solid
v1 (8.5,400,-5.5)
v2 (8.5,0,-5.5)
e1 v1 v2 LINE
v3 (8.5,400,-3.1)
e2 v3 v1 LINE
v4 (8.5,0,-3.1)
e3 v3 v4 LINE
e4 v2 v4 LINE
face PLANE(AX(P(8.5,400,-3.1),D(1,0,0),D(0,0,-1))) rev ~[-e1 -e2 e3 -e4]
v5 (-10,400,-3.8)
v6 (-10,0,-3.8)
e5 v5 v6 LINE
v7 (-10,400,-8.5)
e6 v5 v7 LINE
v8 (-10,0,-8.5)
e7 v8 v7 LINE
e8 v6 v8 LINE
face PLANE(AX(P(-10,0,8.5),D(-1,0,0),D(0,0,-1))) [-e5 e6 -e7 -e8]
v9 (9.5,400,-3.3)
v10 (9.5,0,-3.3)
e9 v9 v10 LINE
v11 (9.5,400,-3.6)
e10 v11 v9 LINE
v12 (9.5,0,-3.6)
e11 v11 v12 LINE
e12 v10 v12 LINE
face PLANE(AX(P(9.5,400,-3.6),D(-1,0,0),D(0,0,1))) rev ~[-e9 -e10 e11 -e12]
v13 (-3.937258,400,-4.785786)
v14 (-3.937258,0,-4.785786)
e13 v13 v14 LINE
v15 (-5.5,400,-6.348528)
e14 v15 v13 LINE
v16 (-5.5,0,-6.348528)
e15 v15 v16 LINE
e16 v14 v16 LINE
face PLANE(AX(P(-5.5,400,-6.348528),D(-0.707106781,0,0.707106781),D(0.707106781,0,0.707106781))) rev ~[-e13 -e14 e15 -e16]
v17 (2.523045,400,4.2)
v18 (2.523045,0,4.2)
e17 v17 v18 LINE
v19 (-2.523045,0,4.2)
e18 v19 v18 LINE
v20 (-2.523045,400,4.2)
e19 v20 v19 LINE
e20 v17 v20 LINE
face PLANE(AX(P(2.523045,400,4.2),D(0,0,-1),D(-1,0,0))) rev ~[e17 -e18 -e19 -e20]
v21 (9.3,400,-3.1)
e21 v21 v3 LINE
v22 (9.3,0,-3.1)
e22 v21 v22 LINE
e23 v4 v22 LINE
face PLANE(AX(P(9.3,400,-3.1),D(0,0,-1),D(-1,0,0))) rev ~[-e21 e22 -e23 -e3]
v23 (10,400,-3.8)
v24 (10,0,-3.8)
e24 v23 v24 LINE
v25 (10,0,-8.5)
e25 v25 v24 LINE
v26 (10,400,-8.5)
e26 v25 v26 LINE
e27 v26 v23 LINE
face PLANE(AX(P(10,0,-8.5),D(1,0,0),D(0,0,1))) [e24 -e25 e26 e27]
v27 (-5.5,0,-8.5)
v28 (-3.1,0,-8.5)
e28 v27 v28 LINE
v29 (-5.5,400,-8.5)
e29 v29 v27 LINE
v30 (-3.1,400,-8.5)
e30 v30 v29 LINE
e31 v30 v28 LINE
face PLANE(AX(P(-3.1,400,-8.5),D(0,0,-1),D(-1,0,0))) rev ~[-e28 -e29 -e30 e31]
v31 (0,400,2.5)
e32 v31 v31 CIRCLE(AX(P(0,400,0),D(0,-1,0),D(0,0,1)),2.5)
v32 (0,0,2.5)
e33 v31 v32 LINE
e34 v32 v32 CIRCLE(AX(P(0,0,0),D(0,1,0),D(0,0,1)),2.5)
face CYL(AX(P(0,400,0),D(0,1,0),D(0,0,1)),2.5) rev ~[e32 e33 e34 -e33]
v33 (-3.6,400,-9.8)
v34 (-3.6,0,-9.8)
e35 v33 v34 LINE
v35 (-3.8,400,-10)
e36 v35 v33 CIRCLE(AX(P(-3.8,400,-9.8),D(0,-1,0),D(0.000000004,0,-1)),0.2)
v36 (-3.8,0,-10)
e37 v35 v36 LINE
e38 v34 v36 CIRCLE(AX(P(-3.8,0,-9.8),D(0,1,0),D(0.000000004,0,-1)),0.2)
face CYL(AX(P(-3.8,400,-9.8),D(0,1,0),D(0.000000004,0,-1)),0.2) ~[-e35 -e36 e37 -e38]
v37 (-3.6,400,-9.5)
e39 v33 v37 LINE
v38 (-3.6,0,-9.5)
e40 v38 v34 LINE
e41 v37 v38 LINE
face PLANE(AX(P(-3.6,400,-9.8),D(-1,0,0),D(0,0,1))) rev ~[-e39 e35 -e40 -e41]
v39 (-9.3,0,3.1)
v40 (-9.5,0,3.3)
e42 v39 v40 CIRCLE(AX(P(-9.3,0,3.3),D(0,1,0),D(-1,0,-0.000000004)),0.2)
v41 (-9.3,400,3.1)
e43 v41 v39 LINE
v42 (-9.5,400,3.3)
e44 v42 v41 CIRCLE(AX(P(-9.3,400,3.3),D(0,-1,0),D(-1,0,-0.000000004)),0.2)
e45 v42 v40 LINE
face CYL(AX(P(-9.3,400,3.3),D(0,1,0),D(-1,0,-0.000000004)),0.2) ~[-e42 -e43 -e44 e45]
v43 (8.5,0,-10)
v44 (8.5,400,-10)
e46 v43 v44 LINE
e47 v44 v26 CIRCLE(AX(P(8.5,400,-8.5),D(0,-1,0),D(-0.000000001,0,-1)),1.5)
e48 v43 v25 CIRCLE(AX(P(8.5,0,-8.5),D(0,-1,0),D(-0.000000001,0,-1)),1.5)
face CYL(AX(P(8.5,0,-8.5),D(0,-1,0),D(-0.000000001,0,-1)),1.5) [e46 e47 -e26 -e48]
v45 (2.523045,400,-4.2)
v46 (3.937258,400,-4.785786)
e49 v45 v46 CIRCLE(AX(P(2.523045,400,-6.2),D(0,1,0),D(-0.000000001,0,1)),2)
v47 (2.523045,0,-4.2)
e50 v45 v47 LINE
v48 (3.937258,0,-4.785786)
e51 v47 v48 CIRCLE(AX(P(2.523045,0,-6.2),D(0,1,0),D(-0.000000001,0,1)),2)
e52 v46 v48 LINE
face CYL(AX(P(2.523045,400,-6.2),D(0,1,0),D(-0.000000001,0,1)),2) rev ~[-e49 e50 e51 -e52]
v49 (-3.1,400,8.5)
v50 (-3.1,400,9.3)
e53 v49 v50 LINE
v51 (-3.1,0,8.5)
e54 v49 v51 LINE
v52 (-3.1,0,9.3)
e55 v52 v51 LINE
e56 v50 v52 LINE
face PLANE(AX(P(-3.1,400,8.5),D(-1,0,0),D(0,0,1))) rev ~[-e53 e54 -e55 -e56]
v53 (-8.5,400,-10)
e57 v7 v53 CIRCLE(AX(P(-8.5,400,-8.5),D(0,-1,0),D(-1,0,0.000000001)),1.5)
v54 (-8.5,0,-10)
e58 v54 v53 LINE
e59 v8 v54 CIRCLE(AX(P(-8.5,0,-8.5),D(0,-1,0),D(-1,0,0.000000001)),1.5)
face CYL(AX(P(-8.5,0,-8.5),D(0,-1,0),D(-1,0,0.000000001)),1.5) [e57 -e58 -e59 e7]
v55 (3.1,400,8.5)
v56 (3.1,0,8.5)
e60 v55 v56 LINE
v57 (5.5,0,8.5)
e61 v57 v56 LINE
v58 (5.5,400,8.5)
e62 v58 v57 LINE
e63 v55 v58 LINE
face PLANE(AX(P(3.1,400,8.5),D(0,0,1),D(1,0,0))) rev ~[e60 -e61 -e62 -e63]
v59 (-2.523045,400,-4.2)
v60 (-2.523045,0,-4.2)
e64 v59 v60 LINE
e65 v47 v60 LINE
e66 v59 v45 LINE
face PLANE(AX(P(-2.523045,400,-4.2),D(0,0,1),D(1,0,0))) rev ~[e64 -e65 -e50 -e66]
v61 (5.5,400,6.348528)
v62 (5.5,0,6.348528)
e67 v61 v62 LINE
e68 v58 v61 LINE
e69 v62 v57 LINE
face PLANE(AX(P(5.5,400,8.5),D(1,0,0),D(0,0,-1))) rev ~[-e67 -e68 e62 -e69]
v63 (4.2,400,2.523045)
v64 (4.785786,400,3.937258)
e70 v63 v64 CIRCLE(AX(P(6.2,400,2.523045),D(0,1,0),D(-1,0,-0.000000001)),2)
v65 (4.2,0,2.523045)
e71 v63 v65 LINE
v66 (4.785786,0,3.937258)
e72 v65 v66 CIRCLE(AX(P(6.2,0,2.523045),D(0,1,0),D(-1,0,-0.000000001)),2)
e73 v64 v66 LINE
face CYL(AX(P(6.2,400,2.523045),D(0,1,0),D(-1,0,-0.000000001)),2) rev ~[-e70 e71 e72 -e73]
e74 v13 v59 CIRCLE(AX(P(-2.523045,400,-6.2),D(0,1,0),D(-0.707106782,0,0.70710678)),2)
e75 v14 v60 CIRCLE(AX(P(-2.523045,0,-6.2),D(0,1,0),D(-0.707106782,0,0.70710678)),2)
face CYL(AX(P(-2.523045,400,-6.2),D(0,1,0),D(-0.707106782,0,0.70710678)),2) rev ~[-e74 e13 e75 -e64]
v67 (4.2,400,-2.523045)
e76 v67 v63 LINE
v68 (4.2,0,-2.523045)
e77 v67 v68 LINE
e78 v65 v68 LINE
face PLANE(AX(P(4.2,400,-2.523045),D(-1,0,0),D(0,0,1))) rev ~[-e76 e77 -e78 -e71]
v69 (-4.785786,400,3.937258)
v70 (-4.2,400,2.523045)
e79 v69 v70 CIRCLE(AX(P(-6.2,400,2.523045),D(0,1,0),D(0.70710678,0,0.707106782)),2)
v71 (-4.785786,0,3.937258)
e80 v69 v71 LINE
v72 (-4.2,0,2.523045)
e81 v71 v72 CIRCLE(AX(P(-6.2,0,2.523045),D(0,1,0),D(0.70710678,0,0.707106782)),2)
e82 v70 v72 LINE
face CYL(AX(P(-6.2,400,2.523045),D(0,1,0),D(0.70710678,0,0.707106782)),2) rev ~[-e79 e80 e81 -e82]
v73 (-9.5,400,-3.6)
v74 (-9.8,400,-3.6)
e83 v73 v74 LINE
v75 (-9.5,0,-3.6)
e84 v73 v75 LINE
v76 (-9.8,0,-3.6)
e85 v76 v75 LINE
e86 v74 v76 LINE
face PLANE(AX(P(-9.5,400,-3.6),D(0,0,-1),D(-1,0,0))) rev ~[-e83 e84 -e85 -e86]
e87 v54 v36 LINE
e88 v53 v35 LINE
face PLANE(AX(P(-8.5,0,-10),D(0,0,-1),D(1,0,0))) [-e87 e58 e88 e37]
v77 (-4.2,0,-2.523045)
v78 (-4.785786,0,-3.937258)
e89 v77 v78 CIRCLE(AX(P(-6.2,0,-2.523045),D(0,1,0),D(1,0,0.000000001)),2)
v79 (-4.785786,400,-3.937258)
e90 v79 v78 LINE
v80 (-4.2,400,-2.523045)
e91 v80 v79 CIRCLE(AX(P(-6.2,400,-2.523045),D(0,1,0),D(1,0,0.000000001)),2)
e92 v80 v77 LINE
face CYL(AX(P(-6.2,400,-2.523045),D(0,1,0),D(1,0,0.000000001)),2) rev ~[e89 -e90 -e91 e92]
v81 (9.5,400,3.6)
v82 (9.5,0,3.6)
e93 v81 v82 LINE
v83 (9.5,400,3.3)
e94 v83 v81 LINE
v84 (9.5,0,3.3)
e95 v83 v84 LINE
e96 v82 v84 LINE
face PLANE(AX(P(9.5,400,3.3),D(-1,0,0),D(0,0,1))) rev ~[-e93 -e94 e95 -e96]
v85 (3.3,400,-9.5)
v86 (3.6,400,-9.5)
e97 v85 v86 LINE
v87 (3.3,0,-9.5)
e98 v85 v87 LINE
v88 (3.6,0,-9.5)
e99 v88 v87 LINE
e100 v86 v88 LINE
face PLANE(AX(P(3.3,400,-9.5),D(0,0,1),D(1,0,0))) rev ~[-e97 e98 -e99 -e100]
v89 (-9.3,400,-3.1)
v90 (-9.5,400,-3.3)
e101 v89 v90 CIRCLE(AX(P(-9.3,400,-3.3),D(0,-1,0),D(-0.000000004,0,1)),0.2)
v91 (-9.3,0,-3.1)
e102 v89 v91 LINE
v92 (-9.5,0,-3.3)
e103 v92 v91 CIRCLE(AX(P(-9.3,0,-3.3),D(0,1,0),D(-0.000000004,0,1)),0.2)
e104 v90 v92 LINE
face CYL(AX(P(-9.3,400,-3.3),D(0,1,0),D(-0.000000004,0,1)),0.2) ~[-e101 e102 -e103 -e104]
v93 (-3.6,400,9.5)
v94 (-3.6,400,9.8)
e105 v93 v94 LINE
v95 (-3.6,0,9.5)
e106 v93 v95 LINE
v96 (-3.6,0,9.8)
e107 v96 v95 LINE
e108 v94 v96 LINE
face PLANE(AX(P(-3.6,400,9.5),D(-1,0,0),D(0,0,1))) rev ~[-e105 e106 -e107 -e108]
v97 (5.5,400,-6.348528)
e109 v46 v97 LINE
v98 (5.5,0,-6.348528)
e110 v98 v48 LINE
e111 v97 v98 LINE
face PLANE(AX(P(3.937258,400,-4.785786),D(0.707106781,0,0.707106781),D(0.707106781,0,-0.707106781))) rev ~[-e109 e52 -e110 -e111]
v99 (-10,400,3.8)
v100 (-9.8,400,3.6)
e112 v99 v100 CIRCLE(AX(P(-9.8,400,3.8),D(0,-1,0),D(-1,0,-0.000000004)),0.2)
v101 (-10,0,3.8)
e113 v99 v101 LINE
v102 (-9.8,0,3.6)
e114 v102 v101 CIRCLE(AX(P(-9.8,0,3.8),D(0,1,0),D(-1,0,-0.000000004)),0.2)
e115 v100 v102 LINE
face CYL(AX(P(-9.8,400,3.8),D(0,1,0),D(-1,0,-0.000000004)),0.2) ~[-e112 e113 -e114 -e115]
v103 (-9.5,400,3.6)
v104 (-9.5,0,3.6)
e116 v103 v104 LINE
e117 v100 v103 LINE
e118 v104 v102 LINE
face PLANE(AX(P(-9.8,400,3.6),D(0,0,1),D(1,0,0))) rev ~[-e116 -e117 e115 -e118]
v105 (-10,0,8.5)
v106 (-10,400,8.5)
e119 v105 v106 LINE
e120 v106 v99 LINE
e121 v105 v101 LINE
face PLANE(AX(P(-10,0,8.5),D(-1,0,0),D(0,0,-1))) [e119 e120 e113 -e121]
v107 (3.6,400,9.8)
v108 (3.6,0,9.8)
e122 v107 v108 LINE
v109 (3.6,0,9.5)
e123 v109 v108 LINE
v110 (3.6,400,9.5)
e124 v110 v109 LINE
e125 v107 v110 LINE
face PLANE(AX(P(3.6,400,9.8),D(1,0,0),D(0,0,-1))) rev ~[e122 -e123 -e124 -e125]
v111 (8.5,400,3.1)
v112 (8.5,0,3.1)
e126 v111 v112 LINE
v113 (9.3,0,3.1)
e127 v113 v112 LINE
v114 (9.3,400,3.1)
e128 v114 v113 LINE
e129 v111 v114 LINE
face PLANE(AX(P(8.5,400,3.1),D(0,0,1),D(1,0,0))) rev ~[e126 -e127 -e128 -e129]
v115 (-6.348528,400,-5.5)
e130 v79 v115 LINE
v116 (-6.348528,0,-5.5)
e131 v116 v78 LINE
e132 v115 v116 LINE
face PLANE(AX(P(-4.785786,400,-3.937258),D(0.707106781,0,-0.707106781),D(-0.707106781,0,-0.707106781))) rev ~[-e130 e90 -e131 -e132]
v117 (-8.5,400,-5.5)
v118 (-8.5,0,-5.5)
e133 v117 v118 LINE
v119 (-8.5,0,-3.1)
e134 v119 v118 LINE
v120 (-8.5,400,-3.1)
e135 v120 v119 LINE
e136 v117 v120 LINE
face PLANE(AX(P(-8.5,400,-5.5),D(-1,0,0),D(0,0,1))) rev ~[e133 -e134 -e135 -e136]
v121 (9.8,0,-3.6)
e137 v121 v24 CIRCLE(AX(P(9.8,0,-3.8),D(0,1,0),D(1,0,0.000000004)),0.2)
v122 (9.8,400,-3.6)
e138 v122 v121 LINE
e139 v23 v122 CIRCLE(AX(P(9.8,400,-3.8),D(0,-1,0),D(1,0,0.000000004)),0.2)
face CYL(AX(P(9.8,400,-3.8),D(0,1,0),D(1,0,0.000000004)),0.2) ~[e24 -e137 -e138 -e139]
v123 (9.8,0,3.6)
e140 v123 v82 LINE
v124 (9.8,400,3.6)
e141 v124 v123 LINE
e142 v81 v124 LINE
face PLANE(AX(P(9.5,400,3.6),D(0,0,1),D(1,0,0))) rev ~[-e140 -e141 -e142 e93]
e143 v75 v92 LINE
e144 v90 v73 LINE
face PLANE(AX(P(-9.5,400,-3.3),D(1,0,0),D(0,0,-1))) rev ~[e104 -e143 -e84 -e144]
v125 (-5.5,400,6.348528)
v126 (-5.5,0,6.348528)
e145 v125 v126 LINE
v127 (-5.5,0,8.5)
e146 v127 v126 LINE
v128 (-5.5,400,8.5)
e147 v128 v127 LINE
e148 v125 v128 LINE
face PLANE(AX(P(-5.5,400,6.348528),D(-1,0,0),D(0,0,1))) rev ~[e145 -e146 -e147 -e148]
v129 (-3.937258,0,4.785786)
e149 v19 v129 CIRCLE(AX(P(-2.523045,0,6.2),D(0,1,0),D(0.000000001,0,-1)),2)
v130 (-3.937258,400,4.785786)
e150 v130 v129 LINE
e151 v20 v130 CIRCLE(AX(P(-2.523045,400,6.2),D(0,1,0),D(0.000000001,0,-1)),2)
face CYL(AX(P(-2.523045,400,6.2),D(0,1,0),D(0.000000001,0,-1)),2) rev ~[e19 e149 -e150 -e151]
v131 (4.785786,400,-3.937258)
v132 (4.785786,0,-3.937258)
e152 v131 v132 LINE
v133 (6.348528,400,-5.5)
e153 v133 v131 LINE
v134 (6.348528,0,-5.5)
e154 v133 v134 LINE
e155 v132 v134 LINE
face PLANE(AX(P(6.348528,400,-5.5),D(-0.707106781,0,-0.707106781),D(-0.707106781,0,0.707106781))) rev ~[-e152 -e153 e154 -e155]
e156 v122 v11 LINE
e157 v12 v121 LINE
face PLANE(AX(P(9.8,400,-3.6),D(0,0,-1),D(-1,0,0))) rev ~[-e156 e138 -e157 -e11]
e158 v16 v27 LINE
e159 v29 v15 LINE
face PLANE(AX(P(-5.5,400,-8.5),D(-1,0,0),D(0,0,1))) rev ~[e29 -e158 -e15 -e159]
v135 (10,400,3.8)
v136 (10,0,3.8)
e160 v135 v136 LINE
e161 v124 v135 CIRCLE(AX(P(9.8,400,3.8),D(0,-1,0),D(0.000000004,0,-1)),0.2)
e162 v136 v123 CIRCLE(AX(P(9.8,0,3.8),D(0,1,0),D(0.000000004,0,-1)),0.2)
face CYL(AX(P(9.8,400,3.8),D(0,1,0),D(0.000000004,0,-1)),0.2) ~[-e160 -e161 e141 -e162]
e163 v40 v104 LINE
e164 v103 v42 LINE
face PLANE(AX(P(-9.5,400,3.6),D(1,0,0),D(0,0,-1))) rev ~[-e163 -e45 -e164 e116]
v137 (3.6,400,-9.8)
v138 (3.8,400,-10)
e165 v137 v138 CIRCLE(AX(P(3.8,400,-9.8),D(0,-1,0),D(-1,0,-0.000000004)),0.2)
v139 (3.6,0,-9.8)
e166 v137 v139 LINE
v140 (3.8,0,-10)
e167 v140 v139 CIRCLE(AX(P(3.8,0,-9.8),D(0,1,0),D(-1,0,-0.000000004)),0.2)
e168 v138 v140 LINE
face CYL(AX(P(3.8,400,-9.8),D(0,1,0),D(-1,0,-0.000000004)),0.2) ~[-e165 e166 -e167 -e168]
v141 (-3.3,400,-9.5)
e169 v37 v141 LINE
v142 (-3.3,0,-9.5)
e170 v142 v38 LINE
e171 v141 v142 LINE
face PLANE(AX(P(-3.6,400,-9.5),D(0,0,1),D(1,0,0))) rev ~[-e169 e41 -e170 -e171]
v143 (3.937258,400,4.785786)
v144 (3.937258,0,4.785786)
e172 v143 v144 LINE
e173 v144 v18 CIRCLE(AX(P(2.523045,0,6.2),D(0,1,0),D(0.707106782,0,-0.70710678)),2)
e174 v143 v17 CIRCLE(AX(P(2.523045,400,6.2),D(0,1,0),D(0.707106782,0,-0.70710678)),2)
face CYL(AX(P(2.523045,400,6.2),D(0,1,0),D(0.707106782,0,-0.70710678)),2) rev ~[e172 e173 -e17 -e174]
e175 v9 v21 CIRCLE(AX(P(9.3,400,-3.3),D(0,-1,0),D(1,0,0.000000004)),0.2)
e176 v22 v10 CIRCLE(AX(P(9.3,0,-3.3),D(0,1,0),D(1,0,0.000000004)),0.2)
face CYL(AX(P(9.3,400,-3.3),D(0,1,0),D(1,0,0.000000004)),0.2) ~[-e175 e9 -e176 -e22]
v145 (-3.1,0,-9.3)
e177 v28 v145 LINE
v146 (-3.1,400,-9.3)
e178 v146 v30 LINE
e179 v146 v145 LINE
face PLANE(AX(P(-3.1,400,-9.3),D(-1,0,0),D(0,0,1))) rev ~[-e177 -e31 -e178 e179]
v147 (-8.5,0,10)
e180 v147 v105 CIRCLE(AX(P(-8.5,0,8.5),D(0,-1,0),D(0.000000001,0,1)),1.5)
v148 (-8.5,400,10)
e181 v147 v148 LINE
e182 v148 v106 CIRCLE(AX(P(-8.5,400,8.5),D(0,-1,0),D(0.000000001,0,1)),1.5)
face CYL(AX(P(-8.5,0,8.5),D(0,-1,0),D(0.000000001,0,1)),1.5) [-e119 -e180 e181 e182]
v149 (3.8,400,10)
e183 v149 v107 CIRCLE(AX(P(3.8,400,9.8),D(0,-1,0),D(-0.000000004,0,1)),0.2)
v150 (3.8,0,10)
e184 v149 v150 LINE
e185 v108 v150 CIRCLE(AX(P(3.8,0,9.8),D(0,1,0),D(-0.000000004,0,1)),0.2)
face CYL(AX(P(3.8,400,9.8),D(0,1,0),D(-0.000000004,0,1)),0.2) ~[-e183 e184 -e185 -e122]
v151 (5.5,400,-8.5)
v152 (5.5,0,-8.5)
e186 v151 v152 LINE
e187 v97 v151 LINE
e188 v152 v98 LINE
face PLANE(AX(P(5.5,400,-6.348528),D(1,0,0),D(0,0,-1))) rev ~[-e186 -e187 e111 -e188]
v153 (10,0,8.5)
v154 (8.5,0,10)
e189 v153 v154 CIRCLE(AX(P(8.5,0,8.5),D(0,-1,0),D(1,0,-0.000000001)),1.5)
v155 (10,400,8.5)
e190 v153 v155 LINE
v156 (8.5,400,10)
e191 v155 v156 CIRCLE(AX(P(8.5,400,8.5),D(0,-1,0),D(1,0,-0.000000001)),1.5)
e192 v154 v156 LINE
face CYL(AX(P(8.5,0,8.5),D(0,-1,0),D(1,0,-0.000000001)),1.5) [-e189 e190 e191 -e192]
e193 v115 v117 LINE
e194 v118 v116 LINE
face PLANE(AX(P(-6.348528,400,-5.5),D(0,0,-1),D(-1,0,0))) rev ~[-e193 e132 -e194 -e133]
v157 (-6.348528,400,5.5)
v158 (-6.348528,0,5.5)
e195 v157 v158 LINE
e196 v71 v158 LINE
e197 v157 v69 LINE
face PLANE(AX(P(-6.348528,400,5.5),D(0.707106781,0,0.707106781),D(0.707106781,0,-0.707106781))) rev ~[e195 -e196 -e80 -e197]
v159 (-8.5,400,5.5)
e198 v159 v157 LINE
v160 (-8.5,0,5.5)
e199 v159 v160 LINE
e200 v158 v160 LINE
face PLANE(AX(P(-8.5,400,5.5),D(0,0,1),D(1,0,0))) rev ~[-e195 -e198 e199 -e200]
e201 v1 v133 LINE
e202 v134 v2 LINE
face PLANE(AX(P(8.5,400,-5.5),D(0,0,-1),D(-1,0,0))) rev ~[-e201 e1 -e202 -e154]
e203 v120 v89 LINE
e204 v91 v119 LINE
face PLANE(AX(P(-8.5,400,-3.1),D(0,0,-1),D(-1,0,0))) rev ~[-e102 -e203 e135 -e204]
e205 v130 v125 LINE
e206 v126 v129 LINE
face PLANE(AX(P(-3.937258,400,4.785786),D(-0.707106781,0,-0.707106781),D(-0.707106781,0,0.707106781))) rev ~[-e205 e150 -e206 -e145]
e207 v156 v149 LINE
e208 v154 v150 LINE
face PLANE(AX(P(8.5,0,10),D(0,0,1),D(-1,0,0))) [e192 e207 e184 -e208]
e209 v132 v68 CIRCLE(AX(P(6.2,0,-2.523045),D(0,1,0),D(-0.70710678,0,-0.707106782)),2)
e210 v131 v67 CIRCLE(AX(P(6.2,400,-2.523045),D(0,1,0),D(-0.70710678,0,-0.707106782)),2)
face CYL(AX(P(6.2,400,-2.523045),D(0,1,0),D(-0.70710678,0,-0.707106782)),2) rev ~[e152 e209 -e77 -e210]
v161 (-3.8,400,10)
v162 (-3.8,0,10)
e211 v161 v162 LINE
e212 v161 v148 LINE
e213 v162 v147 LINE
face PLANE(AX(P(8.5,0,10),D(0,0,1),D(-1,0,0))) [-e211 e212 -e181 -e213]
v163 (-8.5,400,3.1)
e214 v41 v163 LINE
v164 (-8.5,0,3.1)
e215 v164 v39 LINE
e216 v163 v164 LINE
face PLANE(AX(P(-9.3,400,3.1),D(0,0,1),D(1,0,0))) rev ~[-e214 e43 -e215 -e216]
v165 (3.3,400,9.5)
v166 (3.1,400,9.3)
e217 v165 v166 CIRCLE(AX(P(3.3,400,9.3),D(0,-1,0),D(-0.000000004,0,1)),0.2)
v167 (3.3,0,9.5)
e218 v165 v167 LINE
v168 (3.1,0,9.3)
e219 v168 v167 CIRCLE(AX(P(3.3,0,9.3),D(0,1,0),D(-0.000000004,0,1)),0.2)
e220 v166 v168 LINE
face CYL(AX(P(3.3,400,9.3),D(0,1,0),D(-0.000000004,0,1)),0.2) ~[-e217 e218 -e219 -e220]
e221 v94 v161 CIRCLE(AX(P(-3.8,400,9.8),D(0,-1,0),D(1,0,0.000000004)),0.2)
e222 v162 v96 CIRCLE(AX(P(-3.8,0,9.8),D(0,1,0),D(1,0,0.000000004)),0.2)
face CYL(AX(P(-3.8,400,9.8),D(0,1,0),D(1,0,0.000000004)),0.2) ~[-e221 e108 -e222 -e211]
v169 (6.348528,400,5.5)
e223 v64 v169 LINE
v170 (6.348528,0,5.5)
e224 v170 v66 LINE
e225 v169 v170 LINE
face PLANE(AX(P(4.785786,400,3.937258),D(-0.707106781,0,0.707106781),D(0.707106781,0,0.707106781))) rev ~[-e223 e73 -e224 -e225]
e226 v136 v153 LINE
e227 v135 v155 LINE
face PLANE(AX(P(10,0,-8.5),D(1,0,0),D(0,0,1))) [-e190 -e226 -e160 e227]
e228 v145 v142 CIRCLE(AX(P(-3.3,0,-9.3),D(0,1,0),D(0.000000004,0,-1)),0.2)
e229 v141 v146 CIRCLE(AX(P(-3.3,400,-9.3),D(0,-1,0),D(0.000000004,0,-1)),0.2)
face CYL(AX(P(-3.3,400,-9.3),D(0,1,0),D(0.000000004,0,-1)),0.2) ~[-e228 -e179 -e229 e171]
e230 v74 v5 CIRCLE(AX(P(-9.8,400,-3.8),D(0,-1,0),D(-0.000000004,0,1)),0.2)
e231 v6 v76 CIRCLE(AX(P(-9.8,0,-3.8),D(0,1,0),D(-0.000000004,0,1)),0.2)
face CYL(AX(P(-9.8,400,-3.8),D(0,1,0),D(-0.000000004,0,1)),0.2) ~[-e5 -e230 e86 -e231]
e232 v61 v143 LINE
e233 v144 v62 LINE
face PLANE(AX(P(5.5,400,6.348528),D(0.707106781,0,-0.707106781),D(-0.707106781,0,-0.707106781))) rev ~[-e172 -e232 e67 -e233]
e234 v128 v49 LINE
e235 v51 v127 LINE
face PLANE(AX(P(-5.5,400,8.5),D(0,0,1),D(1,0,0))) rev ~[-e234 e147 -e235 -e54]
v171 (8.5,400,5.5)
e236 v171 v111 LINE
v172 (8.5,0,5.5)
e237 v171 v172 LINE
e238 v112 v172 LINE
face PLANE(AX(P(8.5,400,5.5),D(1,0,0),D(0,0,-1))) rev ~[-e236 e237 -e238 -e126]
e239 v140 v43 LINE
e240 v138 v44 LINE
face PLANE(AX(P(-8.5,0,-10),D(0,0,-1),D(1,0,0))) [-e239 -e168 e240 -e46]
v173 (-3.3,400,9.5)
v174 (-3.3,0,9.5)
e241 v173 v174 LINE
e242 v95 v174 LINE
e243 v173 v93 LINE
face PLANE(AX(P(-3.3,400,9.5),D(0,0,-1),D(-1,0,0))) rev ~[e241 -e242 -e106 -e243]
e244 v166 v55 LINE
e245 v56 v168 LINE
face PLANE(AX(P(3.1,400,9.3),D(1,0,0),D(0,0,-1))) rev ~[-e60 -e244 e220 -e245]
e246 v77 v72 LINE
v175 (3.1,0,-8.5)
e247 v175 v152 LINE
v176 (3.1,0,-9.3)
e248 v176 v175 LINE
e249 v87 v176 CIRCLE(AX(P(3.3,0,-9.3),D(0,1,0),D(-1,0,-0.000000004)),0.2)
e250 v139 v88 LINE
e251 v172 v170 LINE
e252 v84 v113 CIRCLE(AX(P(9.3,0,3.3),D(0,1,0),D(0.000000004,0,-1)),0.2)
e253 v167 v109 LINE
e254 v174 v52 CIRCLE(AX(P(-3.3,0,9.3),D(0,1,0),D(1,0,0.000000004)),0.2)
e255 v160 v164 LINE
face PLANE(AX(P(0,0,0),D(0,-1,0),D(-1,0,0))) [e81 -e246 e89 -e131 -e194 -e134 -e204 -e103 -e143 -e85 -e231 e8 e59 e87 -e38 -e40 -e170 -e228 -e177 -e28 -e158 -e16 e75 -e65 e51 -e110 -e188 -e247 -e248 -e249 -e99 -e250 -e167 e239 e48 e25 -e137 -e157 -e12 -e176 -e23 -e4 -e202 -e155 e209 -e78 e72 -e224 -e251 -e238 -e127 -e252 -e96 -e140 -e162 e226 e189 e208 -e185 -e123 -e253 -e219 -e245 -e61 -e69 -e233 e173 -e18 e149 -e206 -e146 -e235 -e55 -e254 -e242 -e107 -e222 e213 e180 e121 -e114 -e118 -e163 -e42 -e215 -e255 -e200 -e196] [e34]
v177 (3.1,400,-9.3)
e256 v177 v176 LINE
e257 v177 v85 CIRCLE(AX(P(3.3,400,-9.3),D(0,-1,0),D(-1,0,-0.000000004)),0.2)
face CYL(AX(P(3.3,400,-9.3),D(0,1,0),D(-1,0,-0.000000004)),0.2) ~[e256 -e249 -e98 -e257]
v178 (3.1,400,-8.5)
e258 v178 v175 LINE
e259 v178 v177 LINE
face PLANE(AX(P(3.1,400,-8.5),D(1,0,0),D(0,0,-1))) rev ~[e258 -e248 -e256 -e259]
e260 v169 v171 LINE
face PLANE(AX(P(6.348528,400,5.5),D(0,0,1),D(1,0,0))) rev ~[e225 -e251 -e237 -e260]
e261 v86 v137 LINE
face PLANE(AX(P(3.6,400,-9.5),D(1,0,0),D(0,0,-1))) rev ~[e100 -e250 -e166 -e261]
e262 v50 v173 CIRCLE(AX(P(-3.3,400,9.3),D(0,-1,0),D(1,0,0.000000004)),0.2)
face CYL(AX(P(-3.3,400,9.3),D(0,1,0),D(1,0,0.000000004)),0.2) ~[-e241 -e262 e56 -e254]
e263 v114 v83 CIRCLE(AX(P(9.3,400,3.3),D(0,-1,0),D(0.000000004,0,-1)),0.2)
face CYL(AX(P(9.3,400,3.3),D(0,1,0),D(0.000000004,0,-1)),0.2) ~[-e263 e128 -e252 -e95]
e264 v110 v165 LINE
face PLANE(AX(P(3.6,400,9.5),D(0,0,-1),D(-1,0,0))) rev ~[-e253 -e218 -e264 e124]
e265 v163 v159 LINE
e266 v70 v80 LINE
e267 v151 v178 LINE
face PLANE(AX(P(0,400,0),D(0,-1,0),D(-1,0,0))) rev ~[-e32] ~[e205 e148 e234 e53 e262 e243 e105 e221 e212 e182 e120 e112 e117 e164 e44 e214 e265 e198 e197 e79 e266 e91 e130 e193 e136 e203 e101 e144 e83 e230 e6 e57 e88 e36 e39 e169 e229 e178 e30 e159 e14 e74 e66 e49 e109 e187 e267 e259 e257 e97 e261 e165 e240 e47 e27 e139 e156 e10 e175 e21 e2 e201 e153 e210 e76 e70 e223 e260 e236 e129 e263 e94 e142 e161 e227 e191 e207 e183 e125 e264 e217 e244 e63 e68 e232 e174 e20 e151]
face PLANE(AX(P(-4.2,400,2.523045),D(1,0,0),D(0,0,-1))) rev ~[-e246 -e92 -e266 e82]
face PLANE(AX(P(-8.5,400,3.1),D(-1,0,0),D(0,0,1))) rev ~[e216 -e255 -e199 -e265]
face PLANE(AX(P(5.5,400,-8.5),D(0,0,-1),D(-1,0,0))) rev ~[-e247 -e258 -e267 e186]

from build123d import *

# Parameters (mm, degrees)
BOSS_EXTRUDE1_DEPTH = 400
SKETCH3_R           = 2.5
CUT_EXTRUDE1_DEPTH  = 401.249921924
CIRPATTERN1_COUNT   = 4


with BuildPart() as part:
    # Sketch2 → Boss-Extrude1 (new body)
    with BuildSketch(Plane(origin=(0, 0, 0), x_dir=(1, 0, 0), z_dir=(0, 1, 0))):
        with BuildLine():
            Line((-10, -8.5), (-10, 8.5))
            ThreePointArc((-10, 8.5), (-9.560660172, 9.560660172), (-8.5, 10))
            Line((-8.5, 10), (8.5, 10))
            ThreePointArc((8.5, 10), (9.560660172, 9.560660172), (10, 8.5))
            Line((10, 8.5), (10, -8.5))
            ThreePointArc((10, -8.5), (9.560660172, -9.560660172), (8.5, -10))
            Line((8.5, -10), (-8.5, -10))
            ThreePointArc((-8.5, -10), (-9.560660172, -9.560660172), (-10, -8.5))
        make_face()
    extrude(amount=BOSS_EXTRUDE1_DEPTH)

    # Sketch3 → Cut-Extrude1 (cut, through all)
    with BuildSketch(Plane(origin=(0, 400, 0), x_dir=(1, 0, 0), z_dir=(0, 1, 0))):
        Circle(SKETCH3_R)
        with BuildLine():
            Line((-8.5, -5.5), (-6.348528137, -5.5))
            Line((-6.348528137, -5.5), (-4.785786438, -3.9372583))
            ThreePointArc((-4.785786438, -3.9372583), (-4.352240935, -3.288411603), (-4.2, -2.523044738))
            Line((-4.2, -2.523044738), (-4.2, 2.523044738))
            ThreePointArc((-4.2, 2.523044738), (-4.352240935, 3.288411603), (-4.785786438, 3.9372583))
            Line((-4.785786438, 3.9372583), (-6.348528137, 5.5))
            Line((-6.348528137, 5.5), (-8.5, 5.5))
            Line((-8.5, 5.5), (-8.5, 3.1))
            Line((-8.5, 3.1), (-9.3, 3.1))
            ThreePointArc((-9.3, 3.1), (-9.441421356, 3.158578644), (-9.5, 3.3))
            Line((-9.5, 3.3), (-9.5, 3.6))
            Line((-9.5, 3.6), (-9.8, 3.6))
            ThreePointArc((-9.8, 3.6), (-9.941421356, 3.658578644), (-10, 3.8))
            Line((-10, 3.8), (-10, -3.8))
            ThreePointArc((-10, -3.8), (-9.941421356, -3.658578644), (-9.8, -3.6))
            Line((-9.8, -3.6), (-9.5, -3.6))
            Line((-9.5, -3.6), (-9.5, -3.3))
            ThreePointArc((-9.5, -3.3), (-9.441421356, -3.158578644), (-9.3, -3.1))
            Line((-9.3, -3.1), (-8.5, -3.1))
            Line((-8.5, -3.1), (-8.5, -5.5))
        make_face()
    cut_extrude1 = extrude(amount=-CUT_EXTRUDE1_DEPTH, mode=Mode.SUBTRACT)

    # CirPattern1: Cut-Extrude1 ×4 about axis
    cirpattern1_axis = Axis((0, -20, 0), (0, 1, 0))
    for i in range(1, CIRPATTERN1_COUNT):
        add(cut_extrude1.rotate(cirpattern1_axis, i * 360 / CIRPATTERN1_COUNT), mode=Mode.SUBTRACT)


solid = part.part
